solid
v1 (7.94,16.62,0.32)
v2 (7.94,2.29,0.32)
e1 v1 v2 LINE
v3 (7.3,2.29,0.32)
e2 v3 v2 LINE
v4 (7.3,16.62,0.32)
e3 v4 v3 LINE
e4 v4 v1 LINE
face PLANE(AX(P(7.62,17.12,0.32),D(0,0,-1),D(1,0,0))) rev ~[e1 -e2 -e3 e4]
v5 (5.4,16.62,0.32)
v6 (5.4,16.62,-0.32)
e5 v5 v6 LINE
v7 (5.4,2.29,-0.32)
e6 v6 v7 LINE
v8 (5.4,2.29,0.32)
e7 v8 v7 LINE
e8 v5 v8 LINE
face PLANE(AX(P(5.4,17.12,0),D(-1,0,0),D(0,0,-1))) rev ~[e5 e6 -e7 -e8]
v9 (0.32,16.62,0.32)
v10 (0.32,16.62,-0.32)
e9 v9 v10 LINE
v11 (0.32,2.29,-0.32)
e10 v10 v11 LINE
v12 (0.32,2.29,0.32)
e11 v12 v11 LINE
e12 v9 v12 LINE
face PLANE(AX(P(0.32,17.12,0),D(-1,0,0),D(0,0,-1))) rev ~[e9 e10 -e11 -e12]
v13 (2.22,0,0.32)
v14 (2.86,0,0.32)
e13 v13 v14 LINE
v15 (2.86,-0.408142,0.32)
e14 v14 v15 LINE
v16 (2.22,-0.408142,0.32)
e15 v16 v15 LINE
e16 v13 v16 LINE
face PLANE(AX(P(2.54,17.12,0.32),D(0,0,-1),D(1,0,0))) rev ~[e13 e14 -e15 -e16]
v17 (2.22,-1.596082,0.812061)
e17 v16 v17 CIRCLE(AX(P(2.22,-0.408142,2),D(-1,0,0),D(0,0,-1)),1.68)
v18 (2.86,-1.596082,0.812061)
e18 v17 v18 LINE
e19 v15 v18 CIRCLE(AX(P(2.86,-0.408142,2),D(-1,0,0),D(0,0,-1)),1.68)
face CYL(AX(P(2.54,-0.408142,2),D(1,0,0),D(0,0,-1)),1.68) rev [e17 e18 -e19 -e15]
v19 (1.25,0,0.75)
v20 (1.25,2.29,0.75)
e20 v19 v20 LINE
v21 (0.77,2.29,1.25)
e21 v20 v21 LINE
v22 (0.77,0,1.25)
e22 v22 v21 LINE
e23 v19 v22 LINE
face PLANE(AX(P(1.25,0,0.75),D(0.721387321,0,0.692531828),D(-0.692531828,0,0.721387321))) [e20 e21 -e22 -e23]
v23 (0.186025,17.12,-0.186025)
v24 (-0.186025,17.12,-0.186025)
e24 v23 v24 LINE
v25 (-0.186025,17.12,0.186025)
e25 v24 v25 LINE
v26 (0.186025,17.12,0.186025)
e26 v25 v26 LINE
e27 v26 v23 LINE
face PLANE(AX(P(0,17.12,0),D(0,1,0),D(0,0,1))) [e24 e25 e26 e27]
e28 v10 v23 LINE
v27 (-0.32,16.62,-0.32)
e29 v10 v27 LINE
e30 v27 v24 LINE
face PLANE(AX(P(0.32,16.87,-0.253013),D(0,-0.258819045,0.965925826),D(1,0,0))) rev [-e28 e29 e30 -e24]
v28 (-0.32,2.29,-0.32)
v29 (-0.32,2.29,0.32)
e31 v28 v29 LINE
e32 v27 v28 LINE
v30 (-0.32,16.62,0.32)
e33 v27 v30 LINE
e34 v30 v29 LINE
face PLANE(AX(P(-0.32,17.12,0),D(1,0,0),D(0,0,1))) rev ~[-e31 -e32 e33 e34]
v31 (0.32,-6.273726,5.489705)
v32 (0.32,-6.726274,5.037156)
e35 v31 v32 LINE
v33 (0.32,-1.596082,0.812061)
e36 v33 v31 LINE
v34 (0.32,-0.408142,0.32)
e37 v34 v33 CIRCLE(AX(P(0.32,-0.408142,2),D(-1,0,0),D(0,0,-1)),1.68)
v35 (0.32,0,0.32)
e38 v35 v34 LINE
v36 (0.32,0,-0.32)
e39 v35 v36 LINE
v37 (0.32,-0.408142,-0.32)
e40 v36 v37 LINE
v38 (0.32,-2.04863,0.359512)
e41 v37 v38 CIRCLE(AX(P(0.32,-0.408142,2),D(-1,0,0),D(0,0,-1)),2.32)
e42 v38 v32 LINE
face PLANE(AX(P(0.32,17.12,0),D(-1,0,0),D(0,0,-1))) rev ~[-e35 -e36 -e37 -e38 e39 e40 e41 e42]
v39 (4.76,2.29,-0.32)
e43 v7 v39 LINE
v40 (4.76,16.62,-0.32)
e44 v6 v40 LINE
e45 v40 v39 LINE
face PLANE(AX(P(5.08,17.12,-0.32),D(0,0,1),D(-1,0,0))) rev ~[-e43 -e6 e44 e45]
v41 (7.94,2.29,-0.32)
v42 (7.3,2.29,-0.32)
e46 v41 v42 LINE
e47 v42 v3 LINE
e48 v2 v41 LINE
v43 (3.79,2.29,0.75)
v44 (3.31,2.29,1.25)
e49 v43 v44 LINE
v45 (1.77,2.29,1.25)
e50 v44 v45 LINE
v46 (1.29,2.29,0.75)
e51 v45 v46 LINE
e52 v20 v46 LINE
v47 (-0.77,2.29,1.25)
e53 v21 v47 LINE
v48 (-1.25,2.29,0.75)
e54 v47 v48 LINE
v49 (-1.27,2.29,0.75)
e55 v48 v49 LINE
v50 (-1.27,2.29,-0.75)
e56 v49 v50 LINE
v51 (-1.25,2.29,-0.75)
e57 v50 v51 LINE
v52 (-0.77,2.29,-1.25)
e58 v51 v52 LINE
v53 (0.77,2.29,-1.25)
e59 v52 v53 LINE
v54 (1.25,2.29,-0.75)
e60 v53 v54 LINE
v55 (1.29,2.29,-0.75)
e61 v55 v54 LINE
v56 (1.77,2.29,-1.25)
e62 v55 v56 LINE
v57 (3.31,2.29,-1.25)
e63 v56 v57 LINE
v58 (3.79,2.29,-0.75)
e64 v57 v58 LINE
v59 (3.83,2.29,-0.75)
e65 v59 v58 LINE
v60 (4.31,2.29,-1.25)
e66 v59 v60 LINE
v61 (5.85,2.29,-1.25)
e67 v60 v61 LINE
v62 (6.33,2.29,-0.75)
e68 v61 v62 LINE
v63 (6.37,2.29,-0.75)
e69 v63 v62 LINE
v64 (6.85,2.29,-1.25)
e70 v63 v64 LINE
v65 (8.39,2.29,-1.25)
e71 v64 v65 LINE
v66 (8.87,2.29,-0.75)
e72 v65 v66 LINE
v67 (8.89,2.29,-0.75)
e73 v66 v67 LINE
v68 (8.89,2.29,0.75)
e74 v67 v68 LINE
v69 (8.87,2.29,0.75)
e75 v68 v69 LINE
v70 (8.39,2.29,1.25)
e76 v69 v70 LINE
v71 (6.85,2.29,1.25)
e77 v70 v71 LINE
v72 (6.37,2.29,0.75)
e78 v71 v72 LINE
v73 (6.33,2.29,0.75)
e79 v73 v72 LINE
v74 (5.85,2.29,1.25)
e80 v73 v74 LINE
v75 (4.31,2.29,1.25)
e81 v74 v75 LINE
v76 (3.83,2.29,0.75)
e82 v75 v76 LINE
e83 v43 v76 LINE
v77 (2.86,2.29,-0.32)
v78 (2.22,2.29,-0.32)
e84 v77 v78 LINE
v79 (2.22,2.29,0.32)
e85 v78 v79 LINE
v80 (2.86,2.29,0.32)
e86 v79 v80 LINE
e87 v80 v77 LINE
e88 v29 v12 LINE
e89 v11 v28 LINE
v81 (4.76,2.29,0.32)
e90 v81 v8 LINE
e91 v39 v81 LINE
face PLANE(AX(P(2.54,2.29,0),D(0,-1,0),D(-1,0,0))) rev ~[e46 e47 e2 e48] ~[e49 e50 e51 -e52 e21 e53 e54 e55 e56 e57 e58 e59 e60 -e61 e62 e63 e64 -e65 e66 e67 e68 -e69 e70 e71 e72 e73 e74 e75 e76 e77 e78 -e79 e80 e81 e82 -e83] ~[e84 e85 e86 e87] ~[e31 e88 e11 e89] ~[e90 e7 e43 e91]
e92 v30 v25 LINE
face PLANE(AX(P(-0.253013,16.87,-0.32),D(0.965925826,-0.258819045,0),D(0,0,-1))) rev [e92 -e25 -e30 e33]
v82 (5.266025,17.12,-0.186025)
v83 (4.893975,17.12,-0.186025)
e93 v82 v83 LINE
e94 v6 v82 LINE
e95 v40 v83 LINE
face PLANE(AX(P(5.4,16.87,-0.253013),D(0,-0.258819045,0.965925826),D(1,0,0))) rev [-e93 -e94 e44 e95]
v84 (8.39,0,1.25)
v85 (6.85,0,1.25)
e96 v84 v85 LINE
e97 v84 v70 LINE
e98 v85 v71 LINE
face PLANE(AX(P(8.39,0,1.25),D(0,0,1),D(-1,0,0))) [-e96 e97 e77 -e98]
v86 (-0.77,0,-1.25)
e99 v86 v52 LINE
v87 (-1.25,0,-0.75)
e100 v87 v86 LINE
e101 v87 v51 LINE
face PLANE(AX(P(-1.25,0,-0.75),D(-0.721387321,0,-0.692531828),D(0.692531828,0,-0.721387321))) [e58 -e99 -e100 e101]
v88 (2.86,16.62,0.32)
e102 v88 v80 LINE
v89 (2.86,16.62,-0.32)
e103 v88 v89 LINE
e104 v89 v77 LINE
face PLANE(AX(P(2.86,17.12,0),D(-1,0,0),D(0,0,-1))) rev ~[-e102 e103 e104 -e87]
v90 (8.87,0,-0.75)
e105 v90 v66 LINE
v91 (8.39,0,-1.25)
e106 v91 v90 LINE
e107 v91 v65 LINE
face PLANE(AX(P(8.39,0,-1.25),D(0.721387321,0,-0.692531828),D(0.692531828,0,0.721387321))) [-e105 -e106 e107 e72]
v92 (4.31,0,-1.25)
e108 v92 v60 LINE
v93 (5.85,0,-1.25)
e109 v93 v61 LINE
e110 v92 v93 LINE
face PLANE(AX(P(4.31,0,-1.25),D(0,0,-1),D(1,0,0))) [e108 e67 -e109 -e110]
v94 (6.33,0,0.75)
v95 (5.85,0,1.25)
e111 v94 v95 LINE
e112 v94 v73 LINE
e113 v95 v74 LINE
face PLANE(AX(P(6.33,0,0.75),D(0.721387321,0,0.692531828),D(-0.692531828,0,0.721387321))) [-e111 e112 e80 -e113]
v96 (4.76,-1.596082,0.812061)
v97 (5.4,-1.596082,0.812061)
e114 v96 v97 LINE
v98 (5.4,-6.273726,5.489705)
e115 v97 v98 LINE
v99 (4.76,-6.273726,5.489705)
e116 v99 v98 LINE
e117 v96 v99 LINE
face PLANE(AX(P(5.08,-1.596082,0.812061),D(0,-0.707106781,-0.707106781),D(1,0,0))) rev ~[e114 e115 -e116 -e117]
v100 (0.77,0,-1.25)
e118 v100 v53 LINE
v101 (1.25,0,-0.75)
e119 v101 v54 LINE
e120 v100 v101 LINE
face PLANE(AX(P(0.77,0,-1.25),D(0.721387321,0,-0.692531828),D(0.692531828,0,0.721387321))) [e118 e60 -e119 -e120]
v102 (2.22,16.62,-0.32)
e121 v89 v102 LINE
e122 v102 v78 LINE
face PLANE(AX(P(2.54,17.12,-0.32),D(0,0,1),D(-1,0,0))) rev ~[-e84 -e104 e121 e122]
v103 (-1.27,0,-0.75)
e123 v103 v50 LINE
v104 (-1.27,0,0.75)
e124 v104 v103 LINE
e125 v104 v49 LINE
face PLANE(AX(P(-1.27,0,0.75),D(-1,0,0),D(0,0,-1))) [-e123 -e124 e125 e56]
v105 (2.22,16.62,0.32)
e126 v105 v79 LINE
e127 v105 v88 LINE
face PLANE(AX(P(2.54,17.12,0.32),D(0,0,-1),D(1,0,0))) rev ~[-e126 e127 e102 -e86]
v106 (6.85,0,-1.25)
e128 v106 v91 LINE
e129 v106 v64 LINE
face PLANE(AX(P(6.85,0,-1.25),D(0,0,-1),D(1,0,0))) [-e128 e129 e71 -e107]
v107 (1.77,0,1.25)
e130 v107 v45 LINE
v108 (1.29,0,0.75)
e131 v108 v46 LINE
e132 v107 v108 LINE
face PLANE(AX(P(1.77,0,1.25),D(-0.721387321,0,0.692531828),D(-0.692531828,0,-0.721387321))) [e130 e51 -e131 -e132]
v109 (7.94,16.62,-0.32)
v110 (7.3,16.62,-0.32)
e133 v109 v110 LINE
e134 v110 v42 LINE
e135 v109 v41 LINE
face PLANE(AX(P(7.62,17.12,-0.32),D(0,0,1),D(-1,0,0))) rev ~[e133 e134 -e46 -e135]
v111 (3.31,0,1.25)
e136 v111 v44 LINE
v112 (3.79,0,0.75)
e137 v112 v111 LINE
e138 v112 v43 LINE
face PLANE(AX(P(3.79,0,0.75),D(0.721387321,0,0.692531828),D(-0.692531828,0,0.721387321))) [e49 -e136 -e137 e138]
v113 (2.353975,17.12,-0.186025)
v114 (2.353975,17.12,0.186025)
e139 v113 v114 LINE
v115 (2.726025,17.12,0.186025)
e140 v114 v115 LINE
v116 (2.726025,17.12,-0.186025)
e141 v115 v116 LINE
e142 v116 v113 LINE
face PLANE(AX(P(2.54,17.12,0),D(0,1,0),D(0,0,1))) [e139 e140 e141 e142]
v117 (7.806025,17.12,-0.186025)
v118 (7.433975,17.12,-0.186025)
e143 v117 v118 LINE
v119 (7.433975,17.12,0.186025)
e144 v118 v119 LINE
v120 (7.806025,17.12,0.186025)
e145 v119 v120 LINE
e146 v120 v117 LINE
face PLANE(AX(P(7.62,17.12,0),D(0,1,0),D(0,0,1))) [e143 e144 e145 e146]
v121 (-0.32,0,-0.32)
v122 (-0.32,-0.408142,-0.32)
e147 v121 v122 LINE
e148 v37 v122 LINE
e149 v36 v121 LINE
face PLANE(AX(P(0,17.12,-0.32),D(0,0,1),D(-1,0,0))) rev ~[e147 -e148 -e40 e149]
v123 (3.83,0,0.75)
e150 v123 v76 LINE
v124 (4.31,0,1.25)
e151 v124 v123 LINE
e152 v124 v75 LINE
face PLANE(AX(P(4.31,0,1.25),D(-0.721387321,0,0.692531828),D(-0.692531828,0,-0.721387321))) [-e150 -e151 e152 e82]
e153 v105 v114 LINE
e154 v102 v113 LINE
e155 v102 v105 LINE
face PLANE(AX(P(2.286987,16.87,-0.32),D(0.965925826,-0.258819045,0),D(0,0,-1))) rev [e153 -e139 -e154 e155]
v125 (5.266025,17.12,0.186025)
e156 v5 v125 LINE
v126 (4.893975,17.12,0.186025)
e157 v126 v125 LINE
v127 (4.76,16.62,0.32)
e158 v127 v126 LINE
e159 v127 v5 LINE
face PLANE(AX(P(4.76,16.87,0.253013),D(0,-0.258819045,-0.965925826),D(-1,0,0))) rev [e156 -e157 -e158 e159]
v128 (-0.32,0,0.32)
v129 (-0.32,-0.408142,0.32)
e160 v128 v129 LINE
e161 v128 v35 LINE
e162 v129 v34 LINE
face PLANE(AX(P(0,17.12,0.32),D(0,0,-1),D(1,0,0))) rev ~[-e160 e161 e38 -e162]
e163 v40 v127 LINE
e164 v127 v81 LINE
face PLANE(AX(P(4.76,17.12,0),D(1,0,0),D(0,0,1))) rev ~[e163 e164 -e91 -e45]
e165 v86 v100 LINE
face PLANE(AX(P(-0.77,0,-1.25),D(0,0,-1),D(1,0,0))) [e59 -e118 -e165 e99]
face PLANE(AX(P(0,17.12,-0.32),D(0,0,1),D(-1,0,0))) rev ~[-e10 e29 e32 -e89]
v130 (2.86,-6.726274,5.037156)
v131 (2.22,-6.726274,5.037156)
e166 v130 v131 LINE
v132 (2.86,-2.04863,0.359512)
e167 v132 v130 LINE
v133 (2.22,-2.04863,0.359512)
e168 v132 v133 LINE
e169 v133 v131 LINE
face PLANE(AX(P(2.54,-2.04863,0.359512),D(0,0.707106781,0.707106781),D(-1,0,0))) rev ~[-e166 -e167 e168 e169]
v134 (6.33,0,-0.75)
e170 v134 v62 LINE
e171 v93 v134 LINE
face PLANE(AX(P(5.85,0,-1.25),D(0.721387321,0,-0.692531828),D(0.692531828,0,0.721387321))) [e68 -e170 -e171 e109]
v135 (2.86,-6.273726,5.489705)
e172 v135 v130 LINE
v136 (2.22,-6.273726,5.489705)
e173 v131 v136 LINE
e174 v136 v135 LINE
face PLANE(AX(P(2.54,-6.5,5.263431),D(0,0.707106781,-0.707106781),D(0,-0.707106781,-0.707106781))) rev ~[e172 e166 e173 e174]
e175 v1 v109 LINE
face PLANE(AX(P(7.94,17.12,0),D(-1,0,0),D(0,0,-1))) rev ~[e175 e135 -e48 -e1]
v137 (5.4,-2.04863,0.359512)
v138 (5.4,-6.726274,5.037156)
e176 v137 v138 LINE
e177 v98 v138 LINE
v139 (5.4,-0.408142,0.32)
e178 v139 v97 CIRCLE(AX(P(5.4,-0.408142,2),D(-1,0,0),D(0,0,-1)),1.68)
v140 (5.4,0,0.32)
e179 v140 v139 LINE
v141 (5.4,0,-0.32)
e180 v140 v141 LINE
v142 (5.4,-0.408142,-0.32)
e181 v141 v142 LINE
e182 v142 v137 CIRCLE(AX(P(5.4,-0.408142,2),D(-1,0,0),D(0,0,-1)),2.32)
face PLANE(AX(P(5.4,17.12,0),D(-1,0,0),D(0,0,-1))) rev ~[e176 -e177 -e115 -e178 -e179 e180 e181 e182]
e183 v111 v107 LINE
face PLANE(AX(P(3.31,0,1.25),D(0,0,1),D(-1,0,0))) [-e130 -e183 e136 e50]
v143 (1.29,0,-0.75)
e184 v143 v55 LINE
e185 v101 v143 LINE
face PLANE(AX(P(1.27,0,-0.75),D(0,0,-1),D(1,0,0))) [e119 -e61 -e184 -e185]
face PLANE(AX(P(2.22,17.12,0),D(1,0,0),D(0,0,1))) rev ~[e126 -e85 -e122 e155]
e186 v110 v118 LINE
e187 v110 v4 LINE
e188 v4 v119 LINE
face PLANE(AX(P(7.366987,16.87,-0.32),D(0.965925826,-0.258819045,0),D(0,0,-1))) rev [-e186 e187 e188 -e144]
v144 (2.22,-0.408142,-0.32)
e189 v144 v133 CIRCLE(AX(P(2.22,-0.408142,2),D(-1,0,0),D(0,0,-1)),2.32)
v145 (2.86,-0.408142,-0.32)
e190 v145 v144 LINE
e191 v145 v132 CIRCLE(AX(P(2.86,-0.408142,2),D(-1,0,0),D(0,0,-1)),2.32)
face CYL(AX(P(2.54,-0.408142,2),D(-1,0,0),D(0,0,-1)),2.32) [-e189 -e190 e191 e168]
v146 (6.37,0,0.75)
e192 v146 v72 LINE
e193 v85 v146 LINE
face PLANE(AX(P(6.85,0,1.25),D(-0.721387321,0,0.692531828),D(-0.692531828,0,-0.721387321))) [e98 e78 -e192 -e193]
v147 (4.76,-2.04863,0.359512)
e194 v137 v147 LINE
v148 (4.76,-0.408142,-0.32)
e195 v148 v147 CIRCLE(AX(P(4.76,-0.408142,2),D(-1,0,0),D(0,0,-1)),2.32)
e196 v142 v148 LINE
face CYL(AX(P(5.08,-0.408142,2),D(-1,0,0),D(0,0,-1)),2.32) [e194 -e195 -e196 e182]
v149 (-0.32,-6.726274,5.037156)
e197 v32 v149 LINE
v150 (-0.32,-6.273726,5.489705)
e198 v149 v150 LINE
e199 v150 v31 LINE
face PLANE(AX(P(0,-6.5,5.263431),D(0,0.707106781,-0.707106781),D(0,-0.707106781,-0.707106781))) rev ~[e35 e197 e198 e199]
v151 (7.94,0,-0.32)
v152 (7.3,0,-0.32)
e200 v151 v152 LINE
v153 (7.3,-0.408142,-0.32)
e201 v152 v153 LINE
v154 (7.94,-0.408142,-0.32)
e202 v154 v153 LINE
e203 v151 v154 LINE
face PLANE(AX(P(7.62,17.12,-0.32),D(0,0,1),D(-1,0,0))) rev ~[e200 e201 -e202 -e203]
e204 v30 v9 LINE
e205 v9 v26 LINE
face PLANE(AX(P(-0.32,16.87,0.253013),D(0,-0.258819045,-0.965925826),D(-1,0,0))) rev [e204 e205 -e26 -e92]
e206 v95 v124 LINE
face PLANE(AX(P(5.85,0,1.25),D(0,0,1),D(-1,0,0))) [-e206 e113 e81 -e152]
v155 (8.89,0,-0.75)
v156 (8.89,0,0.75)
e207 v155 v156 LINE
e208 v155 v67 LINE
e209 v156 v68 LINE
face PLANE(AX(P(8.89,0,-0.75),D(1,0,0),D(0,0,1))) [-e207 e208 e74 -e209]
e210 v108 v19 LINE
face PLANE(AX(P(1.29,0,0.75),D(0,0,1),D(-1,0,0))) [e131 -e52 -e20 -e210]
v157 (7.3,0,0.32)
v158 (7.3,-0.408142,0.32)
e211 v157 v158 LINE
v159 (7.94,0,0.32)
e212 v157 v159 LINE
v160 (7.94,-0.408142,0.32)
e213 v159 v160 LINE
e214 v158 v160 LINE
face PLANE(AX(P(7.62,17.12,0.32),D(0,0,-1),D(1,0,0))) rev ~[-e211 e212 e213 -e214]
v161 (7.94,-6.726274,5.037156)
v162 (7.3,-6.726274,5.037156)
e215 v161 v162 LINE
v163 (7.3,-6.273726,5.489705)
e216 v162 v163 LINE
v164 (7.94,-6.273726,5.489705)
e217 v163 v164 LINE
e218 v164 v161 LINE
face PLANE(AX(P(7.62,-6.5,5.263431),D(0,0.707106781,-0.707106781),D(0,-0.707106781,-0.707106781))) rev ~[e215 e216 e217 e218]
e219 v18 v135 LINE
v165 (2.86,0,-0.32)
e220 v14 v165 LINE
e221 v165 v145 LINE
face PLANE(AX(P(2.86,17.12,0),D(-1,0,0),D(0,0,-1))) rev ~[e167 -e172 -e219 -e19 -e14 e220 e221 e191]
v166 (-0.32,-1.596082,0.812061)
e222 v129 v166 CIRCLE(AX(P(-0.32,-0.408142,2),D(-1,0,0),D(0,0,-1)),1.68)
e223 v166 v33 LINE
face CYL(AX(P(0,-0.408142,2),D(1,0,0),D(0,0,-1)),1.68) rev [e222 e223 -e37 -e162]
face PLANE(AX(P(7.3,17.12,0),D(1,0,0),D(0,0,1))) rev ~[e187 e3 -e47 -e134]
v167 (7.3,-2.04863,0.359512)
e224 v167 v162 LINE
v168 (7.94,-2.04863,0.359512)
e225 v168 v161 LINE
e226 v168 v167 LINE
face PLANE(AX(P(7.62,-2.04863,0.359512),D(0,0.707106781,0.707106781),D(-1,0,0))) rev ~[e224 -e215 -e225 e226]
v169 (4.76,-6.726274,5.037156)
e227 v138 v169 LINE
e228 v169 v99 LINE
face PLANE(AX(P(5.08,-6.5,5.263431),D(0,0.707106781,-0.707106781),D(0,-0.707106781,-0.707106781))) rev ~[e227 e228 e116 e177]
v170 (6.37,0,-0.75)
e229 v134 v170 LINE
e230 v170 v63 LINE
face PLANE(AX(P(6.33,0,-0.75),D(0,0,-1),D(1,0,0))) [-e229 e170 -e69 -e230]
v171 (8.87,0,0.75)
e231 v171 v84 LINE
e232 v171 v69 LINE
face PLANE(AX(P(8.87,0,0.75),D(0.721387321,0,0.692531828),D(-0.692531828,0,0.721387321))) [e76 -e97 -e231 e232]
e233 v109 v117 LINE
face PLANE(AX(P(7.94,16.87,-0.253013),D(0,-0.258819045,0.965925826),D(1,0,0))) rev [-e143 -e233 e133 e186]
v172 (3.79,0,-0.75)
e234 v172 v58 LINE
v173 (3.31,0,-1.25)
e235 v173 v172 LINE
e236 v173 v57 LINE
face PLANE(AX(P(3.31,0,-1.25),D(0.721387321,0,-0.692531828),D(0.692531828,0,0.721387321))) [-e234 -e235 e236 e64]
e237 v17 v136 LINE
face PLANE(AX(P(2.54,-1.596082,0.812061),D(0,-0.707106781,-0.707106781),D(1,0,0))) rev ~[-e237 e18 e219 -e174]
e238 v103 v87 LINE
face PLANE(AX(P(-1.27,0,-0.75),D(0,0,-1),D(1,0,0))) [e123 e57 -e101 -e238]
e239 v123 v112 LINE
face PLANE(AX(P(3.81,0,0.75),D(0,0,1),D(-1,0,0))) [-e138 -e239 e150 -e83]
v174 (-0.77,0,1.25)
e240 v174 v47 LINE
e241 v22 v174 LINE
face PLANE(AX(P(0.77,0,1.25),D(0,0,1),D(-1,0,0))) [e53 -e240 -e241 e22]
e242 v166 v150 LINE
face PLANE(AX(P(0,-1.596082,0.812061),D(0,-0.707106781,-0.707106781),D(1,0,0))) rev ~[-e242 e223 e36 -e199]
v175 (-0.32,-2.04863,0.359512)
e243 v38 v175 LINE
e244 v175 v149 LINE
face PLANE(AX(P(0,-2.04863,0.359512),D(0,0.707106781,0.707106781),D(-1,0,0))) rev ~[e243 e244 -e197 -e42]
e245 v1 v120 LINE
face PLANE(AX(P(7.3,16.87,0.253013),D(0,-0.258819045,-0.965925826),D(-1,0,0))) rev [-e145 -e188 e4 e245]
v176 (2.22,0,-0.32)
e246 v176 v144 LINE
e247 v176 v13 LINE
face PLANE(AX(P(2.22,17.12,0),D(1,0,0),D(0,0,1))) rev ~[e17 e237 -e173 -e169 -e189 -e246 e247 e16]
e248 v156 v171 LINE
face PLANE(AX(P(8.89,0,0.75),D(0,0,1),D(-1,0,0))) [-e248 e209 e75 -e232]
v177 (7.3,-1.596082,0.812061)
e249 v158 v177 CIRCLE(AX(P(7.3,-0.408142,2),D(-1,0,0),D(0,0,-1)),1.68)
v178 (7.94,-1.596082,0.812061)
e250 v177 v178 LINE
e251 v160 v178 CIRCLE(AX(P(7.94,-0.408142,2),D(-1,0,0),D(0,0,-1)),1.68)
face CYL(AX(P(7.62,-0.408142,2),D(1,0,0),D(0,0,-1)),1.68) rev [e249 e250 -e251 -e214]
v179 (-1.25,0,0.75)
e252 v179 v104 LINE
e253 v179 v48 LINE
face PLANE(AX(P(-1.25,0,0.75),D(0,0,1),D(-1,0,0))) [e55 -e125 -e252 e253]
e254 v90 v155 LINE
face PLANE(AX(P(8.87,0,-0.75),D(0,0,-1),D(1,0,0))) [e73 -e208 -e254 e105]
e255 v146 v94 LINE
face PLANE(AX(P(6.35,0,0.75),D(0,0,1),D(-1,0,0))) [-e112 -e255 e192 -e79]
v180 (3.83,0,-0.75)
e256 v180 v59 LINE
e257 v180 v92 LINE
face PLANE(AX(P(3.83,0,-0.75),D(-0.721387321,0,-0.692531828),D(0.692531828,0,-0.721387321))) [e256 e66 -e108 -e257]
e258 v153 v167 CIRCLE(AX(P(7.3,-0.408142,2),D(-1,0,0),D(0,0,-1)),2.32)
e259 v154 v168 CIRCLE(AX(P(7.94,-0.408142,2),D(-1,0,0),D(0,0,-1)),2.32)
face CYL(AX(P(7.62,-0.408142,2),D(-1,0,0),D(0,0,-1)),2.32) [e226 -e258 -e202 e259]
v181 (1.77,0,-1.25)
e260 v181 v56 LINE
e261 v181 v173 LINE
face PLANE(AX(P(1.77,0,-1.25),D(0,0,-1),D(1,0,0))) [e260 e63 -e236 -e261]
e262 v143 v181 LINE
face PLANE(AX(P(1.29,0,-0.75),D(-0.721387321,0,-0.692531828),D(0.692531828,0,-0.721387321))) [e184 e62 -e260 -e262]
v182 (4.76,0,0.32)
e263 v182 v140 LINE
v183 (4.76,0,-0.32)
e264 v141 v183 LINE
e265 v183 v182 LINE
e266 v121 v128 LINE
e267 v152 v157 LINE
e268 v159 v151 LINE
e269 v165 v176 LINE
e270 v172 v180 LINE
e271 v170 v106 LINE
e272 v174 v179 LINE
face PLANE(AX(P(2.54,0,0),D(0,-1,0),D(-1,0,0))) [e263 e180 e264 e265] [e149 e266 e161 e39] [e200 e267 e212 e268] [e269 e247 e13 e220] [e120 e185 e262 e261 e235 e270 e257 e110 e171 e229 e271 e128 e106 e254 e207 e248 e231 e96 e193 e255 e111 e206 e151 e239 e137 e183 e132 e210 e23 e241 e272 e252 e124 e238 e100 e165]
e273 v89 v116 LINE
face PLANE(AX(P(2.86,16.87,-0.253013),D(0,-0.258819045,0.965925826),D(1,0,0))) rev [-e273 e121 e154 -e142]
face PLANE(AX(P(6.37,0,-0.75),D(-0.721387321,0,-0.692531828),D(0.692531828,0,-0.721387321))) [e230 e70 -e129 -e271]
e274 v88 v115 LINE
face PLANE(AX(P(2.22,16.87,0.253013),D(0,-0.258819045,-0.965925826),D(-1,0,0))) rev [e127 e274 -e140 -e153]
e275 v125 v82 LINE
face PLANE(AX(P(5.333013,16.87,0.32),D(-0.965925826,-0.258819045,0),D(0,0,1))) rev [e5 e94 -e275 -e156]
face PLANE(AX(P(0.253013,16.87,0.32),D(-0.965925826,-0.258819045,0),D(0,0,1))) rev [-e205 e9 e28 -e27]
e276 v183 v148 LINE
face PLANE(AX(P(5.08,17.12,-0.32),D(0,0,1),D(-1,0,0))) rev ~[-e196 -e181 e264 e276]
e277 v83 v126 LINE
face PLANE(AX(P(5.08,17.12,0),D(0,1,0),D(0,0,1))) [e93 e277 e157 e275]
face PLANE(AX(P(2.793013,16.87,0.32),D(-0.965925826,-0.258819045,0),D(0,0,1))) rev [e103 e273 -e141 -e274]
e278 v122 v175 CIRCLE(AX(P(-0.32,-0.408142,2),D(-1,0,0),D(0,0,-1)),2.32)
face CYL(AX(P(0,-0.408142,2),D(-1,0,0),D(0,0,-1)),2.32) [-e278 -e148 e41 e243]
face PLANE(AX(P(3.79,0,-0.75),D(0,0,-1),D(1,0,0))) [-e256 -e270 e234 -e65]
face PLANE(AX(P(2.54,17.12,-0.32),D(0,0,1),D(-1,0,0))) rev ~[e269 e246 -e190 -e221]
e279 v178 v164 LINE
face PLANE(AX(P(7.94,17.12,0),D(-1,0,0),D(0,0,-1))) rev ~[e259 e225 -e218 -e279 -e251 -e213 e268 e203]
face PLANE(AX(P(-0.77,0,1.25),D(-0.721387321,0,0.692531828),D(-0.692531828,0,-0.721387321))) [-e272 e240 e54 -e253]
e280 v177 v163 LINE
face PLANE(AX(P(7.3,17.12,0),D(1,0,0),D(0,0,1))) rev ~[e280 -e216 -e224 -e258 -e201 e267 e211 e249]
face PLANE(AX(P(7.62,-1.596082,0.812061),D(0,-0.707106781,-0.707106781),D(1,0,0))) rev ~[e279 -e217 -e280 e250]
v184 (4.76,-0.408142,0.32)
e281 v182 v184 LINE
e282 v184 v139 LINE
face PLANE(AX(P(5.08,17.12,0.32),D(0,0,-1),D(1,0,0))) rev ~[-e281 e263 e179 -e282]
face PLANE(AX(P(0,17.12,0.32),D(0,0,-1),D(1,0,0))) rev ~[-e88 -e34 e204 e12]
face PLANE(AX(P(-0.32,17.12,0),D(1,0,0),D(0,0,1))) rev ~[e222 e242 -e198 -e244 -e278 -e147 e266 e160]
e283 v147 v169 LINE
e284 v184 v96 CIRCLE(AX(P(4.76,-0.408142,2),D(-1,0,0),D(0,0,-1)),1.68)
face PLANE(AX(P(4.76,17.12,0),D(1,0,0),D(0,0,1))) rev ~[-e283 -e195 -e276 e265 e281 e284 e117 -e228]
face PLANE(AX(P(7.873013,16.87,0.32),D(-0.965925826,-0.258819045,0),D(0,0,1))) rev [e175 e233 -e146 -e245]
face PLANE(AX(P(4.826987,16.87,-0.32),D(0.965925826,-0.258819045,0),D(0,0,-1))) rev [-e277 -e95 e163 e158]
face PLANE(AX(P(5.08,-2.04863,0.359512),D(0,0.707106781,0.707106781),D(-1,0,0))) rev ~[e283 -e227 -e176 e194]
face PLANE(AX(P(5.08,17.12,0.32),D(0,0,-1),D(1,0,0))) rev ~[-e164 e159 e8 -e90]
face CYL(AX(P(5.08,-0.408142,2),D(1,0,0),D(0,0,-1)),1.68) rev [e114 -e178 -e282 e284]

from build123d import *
from OCP.BRepFilletAPI import BRepFilletAPI_MakeChamfer

# Parameters (mm, degrees)
BOSS_EXTRUDE1_DEPTH         = 2.29
SKETCH3_W                   = 0.64
SKETCH3_H                   = 0.64
CHAMFER3_SIZE               = 0.5
CHAMFER3_SIZE2              = 0.133974596
LPATTERN1_COUNT             = 4
LPATTERN1_PITCH             = 2.54
CHAMFER3_OF_LPATTERN1_SIZE  = 0.5
CHAMFER3_OF_LPATTERN1_SIZE2 = 0.133974596


with BuildPart() as part:
    # Sketch1 → Boss-Extrude1 (new body)
    with BuildSketch(Plane(origin=(0, 0, 0), x_dir=(1, 0, 0), z_dir=(0, 1, 0))):
        Polygon((-0.77, 1.25), (0.77, 1.25), (1.25, 0.75), (1.27, 0.75), (1.27, -0.75), (1.25, -0.75), (0.77, -1.25), (-0.77, -1.25), (-1.25, -0.75), (-1.27, -0.75), (-1.27, 0.75), (-1.25, 0.75), align=None)
    boss_extrude1 = extrude(amount=BOSS_EXTRUDE1_DEPTH)

    # Sweep1: sweep along a path in Sketch2
    with BuildLine(Plane(origin=(0, 0, 0), x_dir=(0, 0, -1), z_dir=(1, 0, 0))) as sweep1_path:
        Line((0, 17.12), (0, -0.408142235))
        ThreePointArc((0, -0.408142235), (-0.152240935, -1.1735091), (-0.585786438, -1.822355798))
        Line((-0.585786438, -1.822355798), (-5.26343064, -6.5))
    # Sketch3 → Sweep1 (sweep)
    with BuildSketch(Plane(origin=(0, 17.12, 0), x_dir=(1, 0, 0), z_dir=(0, 1, 0))):
        Rectangle(SKETCH3_W, SKETCH3_H)
    sweep1 = sweep(path=sweep1_path.line)

    # Chamfer3: one chamfer whose edges measure the first distance from different faces: ONE call of the kernel's chamfer builder (chamfer() names one face for all edges)
    chamfer3_edges_1 = [part.edges().sort_by_distance(p)[0] for p in [
        (0.32, 17.12, 0),
    ]]
    chamfer3_side_1 = [part.faces().sort_by_distance(p)[0] for p in [
        (0.32, 9.705, 0),
    ]]
    chamfer3_edges_2 = [part.edges().sort_by_distance(p)[0] for p in [
        (0, 17.12, -0.32),
    ]]
    chamfer3_side_2 = [part.faces().sort_by_distance(p)[0] for p in [
        (0, 9.705, -0.32),
    ]]
    chamfer3_edges_3 = [part.edges().sort_by_distance(p)[0] for p in [
        (-0.32, 17.12, 0),
    ]]
    chamfer3_side_3 = [part.faces().sort_by_distance(p)[0] for p in [
        (-0.32, 9.705, 0),
    ]]
    chamfer3_edges_4 = [part.edges().sort_by_distance(p)[0] for p in [
        (0, 17.12, 0.32),
    ]]
    chamfer3_side_4 = [part.faces().sort_by_distance(p)[0] for p in [
        (0, 9.705, 0.32),
    ]]
    chamfer3 = BRepFilletAPI_MakeChamfer(part.part.solid().wrapped)
    for e in chamfer3_edges_1:
        chamfer3.Add(CHAMFER3_SIZE, CHAMFER3_SIZE2, e.wrapped, chamfer3_side_1[0].wrapped)  # the first distance lies on this face
    for e in chamfer3_edges_2:
        chamfer3.Add(CHAMFER3_SIZE, CHAMFER3_SIZE2, e.wrapped, chamfer3_side_2[0].wrapped)  # the first distance lies on this face
    for e in chamfer3_edges_3:
        chamfer3.Add(CHAMFER3_SIZE, CHAMFER3_SIZE2, e.wrapped, chamfer3_side_3[0].wrapped)  # the first distance lies on this face
    for e in chamfer3_edges_4:
        chamfer3.Add(CHAMFER3_SIZE, CHAMFER3_SIZE2, e.wrapped, chamfer3_side_4[0].wrapped)  # the first distance lies on this face
    add(Compound.cast(chamfer3.Shape()), mode=Mode.REPLACE)

    # LPattern1: Boss-Extrude1, Sweep1 ×4
    with Locations(*[(i * LPATTERN1_PITCH, 0, 0) for i in range(1, LPATTERN1_COUNT)]):
        add(boss_extrude1)
        add(sweep1)

    # Chamfer3 of LPattern1: one chamfer whose edges measure the first distance from different faces: ONE call of the kernel's chamfer builder (chamfer() names one face for all edges)
    chamfer3_of_lpattern1_edges_1 = [part.edges().sort_by_distance(p)[0] for p in [
        (2.86, 17.12, 0),
    ]]
    chamfer3_of_lpattern1_side_1 = [part.faces().sort_by_distance(p)[0] for p in [
        (2.86, 9.705, 0),
    ]]
    chamfer3_of_lpattern1_edges_2 = [part.edges().sort_by_distance(p)[0] for p in [
        (2.54, 17.12, -0.32),
    ]]
    chamfer3_of_lpattern1_side_2 = [part.faces().sort_by_distance(p)[0] for p in [
        (2.54, 9.705, -0.32),
    ]]
    chamfer3_of_lpattern1_edges_3 = [part.edges().sort_by_distance(p)[0] for p in [
        (2.22, 17.12, 0),
    ]]
    chamfer3_of_lpattern1_side_3 = [part.faces().sort_by_distance(p)[0] for p in [
        (2.22, 9.705, 0),
    ]]
    chamfer3_of_lpattern1_edges_4 = [part.edges().sort_by_distance(p)[0] for p in [
        (2.54, 17.12, 0.32),
    ]]
    chamfer3_of_lpattern1_side_4 = [part.faces().sort_by_distance(p)[0] for p in [
        (2.54, 9.705, 0.32),
    ]]
    chamfer3_of_lpattern1_edges_5 = [part.edges().sort_by_distance(p)[0] for p in [
        (5.4, 17.12, 0),
    ]]
    chamfer3_of_lpattern1_side_5 = [part.faces().sort_by_distance(p)[0] for p in [
        (5.4, 9.705, 0),
    ]]
    chamfer3_of_lpattern1_edges_6 = [part.edges().sort_by_distance(p)[0] for p in [
        (5.08, 17.12, -0.32),
    ]]
    chamfer3_of_lpattern1_side_6 = [part.faces().sort_by_distance(p)[0] for p in [
        (5.08, 9.705, -0.32),
    ]]
    chamfer3_of_lpattern1_edges_7 = [part.edges().sort_by_distance(p)[0] for p in [
        (4.76, 17.12, 0),
    ]]
    chamfer3_of_lpattern1_side_7 = [part.faces().sort_by_distance(p)[0] for p in [
        (4.76, 9.705, 0),
    ]]
    chamfer3_of_lpattern1_edges_8 = [part.edges().sort_by_distance(p)[0] for p in [
        (5.08, 17.12, 0.32),
    ]]
    chamfer3_of_lpattern1_side_8 = [part.faces().sort_by_distance(p)[0] for p in [
        (5.08, 9.705, 0.32),
    ]]
    chamfer3_of_lpattern1_edges_9 = [part.edges().sort_by_distance(p)[0] for p in [
        (7.94, 17.12, 0),
    ]]
    chamfer3_of_lpattern1_side_9 = [part.faces().sort_by_distance(p)[0] for p in [
        (7.94, 9.705, 0),
    ]]
    chamfer3_of_lpattern1_edges_10 = [part.edges().sort_by_distance(p)[0] for p in [
        (7.62, 17.12, -0.32),
    ]]
    chamfer3_of_lpattern1_side_10 = [part.faces().sort_by_distance(p)[0] for p in [
        (7.62, 9.705, -0.32),
    ]]
    chamfer3_of_lpattern1_edges_11 = [part.edges().sort_by_distance(p)[0] for p in [
        (7.3, 17.12, 0),
    ]]
    chamfer3_of_lpattern1_side_11 = [part.faces().sort_by_distance(p)[0] for p in [
        (7.3, 9.705, 0),
    ]]
    chamfer3_of_lpattern1_edges_12 = [part.edges().sort_by_distance(p)[0] for p in [
        (7.62, 17.12, 0.32),
    ]]
    chamfer3_of_lpattern1_side_12 = [part.faces().sort_by_distance(p)[0] for p in [
        (7.62, 9.705, 0.32),
    ]]
    chamfer3_of_lpattern1 = BRepFilletAPI_MakeChamfer(part.part.solid().wrapped)
    for e in chamfer3_of_lpattern1_edges_1:
        chamfer3_of_lpattern1.Add(CHAMFER3_OF_LPATTERN1_SIZE, CHAMFER3_OF_LPATTERN1_SIZE2, e.wrapped, chamfer3_of_lpattern1_side_1[0].wrapped)  # the first distance lies on this face
    for e in chamfer3_of_lpattern1_edges_2:
        chamfer3_of_lpattern1.Add(CHAMFER3_OF_LPATTERN1_SIZE, CHAMFER3_OF_LPATTERN1_SIZE2, e.wrapped, chamfer3_of_lpattern1_side_2[0].wrapped)  # the first distance lies on this face
    for e in chamfer3_of_lpattern1_edges_3:
        chamfer3_of_lpattern1.Add(CHAMFER3_OF_LPATTERN1_SIZE, CHAMFER3_OF_LPATTERN1_SIZE2, e.wrapped, chamfer3_of_lpattern1_side_3[0].wrapped)  # the first distance lies on this face
    for e in chamfer3_of_lpattern1_edges_4:
        chamfer3_of_lpattern1.Add(CHAMFER3_OF_LPATTERN1_SIZE, CHAMFER3_OF_LPATTERN1_SIZE2, e.wrapped, chamfer3_of_lpattern1_side_4[0].wrapped)  # the first distance lies on this face
    for e in chamfer3_of_lpattern1_edges_5:
        chamfer3_of_lpattern1.Add(CHAMFER3_OF_LPATTERN1_SIZE, CHAMFER3_OF_LPATTERN1_SIZE2, e.wrapped, chamfer3_of_lpattern1_side_5[0].wrapped)  # the first distance lies on this face
    for e in chamfer3_of_lpattern1_edges_6:
        chamfer3_of_lpattern1.Add(CHAMFER3_OF_LPATTERN1_SIZE, CHAMFER3_OF_LPATTERN1_SIZE2, e.wrapped, chamfer3_of_lpattern1_side_6[0].wrapped)  # the first distance lies on this face
    for e in chamfer3_of_lpattern1_edges_7:
        chamfer3_of_lpattern1.Add(CHAMFER3_OF_LPATTERN1_SIZE, CHAMFER3_OF_LPATTERN1_SIZE2, e.wrapped, chamfer3_of_lpattern1_side_7[0].wrapped)  # the first distance lies on this face
    for e in chamfer3_of_lpattern1_edges_8:
        chamfer3_of_lpattern1.Add(CHAMFER3_OF_LPATTERN1_SIZE, CHAMFER3_OF_LPATTERN1_SIZE2, e.wrapped, chamfer3_of_lpattern1_side_8[0].wrapped)  # the first distance lies on this face
    for e in chamfer3_of_lpattern1_edges_9:
        chamfer3_of_lpattern1.Add(CHAMFER3_OF_LPATTERN1_SIZE, CHAMFER3_OF_LPATTERN1_SIZE2, e.wrapped, chamfer3_of_lpattern1_side_9[0].wrapped)  # the first distance lies on this face
    for e in chamfer3_of_lpattern1_edges_10:
        chamfer3_of_lpattern1.Add(CHAMFER3_OF_LPATTERN1_SIZE, CHAMFER3_OF_LPATTERN1_SIZE2, e.wrapped, chamfer3_of_lpattern1_side_10[0].wrapped)  # the first distance lies on this face
    for e in chamfer3_of_lpattern1_edges_11:
        chamfer3_of_lpattern1.Add(CHAMFER3_OF_LPATTERN1_SIZE, CHAMFER3_OF_LPATTERN1_SIZE2, e.wrapped, chamfer3_of_lpattern1_side_11[0].wrapped)  # the first distance lies on this face
    for e in chamfer3_of_lpattern1_edges_12:
        chamfer3_of_lpattern1.Add(CHAMFER3_OF_LPATTERN1_SIZE, CHAMFER3_OF_LPATTERN1_SIZE2, e.wrapped, chamfer3_of_lpattern1_side_12[0].wrapped)  # the first distance lies on this face
    add(Compound.cast(chamfer3_of_lpattern1.Shape()), mode=Mode.REPLACE)


solid = part.part
